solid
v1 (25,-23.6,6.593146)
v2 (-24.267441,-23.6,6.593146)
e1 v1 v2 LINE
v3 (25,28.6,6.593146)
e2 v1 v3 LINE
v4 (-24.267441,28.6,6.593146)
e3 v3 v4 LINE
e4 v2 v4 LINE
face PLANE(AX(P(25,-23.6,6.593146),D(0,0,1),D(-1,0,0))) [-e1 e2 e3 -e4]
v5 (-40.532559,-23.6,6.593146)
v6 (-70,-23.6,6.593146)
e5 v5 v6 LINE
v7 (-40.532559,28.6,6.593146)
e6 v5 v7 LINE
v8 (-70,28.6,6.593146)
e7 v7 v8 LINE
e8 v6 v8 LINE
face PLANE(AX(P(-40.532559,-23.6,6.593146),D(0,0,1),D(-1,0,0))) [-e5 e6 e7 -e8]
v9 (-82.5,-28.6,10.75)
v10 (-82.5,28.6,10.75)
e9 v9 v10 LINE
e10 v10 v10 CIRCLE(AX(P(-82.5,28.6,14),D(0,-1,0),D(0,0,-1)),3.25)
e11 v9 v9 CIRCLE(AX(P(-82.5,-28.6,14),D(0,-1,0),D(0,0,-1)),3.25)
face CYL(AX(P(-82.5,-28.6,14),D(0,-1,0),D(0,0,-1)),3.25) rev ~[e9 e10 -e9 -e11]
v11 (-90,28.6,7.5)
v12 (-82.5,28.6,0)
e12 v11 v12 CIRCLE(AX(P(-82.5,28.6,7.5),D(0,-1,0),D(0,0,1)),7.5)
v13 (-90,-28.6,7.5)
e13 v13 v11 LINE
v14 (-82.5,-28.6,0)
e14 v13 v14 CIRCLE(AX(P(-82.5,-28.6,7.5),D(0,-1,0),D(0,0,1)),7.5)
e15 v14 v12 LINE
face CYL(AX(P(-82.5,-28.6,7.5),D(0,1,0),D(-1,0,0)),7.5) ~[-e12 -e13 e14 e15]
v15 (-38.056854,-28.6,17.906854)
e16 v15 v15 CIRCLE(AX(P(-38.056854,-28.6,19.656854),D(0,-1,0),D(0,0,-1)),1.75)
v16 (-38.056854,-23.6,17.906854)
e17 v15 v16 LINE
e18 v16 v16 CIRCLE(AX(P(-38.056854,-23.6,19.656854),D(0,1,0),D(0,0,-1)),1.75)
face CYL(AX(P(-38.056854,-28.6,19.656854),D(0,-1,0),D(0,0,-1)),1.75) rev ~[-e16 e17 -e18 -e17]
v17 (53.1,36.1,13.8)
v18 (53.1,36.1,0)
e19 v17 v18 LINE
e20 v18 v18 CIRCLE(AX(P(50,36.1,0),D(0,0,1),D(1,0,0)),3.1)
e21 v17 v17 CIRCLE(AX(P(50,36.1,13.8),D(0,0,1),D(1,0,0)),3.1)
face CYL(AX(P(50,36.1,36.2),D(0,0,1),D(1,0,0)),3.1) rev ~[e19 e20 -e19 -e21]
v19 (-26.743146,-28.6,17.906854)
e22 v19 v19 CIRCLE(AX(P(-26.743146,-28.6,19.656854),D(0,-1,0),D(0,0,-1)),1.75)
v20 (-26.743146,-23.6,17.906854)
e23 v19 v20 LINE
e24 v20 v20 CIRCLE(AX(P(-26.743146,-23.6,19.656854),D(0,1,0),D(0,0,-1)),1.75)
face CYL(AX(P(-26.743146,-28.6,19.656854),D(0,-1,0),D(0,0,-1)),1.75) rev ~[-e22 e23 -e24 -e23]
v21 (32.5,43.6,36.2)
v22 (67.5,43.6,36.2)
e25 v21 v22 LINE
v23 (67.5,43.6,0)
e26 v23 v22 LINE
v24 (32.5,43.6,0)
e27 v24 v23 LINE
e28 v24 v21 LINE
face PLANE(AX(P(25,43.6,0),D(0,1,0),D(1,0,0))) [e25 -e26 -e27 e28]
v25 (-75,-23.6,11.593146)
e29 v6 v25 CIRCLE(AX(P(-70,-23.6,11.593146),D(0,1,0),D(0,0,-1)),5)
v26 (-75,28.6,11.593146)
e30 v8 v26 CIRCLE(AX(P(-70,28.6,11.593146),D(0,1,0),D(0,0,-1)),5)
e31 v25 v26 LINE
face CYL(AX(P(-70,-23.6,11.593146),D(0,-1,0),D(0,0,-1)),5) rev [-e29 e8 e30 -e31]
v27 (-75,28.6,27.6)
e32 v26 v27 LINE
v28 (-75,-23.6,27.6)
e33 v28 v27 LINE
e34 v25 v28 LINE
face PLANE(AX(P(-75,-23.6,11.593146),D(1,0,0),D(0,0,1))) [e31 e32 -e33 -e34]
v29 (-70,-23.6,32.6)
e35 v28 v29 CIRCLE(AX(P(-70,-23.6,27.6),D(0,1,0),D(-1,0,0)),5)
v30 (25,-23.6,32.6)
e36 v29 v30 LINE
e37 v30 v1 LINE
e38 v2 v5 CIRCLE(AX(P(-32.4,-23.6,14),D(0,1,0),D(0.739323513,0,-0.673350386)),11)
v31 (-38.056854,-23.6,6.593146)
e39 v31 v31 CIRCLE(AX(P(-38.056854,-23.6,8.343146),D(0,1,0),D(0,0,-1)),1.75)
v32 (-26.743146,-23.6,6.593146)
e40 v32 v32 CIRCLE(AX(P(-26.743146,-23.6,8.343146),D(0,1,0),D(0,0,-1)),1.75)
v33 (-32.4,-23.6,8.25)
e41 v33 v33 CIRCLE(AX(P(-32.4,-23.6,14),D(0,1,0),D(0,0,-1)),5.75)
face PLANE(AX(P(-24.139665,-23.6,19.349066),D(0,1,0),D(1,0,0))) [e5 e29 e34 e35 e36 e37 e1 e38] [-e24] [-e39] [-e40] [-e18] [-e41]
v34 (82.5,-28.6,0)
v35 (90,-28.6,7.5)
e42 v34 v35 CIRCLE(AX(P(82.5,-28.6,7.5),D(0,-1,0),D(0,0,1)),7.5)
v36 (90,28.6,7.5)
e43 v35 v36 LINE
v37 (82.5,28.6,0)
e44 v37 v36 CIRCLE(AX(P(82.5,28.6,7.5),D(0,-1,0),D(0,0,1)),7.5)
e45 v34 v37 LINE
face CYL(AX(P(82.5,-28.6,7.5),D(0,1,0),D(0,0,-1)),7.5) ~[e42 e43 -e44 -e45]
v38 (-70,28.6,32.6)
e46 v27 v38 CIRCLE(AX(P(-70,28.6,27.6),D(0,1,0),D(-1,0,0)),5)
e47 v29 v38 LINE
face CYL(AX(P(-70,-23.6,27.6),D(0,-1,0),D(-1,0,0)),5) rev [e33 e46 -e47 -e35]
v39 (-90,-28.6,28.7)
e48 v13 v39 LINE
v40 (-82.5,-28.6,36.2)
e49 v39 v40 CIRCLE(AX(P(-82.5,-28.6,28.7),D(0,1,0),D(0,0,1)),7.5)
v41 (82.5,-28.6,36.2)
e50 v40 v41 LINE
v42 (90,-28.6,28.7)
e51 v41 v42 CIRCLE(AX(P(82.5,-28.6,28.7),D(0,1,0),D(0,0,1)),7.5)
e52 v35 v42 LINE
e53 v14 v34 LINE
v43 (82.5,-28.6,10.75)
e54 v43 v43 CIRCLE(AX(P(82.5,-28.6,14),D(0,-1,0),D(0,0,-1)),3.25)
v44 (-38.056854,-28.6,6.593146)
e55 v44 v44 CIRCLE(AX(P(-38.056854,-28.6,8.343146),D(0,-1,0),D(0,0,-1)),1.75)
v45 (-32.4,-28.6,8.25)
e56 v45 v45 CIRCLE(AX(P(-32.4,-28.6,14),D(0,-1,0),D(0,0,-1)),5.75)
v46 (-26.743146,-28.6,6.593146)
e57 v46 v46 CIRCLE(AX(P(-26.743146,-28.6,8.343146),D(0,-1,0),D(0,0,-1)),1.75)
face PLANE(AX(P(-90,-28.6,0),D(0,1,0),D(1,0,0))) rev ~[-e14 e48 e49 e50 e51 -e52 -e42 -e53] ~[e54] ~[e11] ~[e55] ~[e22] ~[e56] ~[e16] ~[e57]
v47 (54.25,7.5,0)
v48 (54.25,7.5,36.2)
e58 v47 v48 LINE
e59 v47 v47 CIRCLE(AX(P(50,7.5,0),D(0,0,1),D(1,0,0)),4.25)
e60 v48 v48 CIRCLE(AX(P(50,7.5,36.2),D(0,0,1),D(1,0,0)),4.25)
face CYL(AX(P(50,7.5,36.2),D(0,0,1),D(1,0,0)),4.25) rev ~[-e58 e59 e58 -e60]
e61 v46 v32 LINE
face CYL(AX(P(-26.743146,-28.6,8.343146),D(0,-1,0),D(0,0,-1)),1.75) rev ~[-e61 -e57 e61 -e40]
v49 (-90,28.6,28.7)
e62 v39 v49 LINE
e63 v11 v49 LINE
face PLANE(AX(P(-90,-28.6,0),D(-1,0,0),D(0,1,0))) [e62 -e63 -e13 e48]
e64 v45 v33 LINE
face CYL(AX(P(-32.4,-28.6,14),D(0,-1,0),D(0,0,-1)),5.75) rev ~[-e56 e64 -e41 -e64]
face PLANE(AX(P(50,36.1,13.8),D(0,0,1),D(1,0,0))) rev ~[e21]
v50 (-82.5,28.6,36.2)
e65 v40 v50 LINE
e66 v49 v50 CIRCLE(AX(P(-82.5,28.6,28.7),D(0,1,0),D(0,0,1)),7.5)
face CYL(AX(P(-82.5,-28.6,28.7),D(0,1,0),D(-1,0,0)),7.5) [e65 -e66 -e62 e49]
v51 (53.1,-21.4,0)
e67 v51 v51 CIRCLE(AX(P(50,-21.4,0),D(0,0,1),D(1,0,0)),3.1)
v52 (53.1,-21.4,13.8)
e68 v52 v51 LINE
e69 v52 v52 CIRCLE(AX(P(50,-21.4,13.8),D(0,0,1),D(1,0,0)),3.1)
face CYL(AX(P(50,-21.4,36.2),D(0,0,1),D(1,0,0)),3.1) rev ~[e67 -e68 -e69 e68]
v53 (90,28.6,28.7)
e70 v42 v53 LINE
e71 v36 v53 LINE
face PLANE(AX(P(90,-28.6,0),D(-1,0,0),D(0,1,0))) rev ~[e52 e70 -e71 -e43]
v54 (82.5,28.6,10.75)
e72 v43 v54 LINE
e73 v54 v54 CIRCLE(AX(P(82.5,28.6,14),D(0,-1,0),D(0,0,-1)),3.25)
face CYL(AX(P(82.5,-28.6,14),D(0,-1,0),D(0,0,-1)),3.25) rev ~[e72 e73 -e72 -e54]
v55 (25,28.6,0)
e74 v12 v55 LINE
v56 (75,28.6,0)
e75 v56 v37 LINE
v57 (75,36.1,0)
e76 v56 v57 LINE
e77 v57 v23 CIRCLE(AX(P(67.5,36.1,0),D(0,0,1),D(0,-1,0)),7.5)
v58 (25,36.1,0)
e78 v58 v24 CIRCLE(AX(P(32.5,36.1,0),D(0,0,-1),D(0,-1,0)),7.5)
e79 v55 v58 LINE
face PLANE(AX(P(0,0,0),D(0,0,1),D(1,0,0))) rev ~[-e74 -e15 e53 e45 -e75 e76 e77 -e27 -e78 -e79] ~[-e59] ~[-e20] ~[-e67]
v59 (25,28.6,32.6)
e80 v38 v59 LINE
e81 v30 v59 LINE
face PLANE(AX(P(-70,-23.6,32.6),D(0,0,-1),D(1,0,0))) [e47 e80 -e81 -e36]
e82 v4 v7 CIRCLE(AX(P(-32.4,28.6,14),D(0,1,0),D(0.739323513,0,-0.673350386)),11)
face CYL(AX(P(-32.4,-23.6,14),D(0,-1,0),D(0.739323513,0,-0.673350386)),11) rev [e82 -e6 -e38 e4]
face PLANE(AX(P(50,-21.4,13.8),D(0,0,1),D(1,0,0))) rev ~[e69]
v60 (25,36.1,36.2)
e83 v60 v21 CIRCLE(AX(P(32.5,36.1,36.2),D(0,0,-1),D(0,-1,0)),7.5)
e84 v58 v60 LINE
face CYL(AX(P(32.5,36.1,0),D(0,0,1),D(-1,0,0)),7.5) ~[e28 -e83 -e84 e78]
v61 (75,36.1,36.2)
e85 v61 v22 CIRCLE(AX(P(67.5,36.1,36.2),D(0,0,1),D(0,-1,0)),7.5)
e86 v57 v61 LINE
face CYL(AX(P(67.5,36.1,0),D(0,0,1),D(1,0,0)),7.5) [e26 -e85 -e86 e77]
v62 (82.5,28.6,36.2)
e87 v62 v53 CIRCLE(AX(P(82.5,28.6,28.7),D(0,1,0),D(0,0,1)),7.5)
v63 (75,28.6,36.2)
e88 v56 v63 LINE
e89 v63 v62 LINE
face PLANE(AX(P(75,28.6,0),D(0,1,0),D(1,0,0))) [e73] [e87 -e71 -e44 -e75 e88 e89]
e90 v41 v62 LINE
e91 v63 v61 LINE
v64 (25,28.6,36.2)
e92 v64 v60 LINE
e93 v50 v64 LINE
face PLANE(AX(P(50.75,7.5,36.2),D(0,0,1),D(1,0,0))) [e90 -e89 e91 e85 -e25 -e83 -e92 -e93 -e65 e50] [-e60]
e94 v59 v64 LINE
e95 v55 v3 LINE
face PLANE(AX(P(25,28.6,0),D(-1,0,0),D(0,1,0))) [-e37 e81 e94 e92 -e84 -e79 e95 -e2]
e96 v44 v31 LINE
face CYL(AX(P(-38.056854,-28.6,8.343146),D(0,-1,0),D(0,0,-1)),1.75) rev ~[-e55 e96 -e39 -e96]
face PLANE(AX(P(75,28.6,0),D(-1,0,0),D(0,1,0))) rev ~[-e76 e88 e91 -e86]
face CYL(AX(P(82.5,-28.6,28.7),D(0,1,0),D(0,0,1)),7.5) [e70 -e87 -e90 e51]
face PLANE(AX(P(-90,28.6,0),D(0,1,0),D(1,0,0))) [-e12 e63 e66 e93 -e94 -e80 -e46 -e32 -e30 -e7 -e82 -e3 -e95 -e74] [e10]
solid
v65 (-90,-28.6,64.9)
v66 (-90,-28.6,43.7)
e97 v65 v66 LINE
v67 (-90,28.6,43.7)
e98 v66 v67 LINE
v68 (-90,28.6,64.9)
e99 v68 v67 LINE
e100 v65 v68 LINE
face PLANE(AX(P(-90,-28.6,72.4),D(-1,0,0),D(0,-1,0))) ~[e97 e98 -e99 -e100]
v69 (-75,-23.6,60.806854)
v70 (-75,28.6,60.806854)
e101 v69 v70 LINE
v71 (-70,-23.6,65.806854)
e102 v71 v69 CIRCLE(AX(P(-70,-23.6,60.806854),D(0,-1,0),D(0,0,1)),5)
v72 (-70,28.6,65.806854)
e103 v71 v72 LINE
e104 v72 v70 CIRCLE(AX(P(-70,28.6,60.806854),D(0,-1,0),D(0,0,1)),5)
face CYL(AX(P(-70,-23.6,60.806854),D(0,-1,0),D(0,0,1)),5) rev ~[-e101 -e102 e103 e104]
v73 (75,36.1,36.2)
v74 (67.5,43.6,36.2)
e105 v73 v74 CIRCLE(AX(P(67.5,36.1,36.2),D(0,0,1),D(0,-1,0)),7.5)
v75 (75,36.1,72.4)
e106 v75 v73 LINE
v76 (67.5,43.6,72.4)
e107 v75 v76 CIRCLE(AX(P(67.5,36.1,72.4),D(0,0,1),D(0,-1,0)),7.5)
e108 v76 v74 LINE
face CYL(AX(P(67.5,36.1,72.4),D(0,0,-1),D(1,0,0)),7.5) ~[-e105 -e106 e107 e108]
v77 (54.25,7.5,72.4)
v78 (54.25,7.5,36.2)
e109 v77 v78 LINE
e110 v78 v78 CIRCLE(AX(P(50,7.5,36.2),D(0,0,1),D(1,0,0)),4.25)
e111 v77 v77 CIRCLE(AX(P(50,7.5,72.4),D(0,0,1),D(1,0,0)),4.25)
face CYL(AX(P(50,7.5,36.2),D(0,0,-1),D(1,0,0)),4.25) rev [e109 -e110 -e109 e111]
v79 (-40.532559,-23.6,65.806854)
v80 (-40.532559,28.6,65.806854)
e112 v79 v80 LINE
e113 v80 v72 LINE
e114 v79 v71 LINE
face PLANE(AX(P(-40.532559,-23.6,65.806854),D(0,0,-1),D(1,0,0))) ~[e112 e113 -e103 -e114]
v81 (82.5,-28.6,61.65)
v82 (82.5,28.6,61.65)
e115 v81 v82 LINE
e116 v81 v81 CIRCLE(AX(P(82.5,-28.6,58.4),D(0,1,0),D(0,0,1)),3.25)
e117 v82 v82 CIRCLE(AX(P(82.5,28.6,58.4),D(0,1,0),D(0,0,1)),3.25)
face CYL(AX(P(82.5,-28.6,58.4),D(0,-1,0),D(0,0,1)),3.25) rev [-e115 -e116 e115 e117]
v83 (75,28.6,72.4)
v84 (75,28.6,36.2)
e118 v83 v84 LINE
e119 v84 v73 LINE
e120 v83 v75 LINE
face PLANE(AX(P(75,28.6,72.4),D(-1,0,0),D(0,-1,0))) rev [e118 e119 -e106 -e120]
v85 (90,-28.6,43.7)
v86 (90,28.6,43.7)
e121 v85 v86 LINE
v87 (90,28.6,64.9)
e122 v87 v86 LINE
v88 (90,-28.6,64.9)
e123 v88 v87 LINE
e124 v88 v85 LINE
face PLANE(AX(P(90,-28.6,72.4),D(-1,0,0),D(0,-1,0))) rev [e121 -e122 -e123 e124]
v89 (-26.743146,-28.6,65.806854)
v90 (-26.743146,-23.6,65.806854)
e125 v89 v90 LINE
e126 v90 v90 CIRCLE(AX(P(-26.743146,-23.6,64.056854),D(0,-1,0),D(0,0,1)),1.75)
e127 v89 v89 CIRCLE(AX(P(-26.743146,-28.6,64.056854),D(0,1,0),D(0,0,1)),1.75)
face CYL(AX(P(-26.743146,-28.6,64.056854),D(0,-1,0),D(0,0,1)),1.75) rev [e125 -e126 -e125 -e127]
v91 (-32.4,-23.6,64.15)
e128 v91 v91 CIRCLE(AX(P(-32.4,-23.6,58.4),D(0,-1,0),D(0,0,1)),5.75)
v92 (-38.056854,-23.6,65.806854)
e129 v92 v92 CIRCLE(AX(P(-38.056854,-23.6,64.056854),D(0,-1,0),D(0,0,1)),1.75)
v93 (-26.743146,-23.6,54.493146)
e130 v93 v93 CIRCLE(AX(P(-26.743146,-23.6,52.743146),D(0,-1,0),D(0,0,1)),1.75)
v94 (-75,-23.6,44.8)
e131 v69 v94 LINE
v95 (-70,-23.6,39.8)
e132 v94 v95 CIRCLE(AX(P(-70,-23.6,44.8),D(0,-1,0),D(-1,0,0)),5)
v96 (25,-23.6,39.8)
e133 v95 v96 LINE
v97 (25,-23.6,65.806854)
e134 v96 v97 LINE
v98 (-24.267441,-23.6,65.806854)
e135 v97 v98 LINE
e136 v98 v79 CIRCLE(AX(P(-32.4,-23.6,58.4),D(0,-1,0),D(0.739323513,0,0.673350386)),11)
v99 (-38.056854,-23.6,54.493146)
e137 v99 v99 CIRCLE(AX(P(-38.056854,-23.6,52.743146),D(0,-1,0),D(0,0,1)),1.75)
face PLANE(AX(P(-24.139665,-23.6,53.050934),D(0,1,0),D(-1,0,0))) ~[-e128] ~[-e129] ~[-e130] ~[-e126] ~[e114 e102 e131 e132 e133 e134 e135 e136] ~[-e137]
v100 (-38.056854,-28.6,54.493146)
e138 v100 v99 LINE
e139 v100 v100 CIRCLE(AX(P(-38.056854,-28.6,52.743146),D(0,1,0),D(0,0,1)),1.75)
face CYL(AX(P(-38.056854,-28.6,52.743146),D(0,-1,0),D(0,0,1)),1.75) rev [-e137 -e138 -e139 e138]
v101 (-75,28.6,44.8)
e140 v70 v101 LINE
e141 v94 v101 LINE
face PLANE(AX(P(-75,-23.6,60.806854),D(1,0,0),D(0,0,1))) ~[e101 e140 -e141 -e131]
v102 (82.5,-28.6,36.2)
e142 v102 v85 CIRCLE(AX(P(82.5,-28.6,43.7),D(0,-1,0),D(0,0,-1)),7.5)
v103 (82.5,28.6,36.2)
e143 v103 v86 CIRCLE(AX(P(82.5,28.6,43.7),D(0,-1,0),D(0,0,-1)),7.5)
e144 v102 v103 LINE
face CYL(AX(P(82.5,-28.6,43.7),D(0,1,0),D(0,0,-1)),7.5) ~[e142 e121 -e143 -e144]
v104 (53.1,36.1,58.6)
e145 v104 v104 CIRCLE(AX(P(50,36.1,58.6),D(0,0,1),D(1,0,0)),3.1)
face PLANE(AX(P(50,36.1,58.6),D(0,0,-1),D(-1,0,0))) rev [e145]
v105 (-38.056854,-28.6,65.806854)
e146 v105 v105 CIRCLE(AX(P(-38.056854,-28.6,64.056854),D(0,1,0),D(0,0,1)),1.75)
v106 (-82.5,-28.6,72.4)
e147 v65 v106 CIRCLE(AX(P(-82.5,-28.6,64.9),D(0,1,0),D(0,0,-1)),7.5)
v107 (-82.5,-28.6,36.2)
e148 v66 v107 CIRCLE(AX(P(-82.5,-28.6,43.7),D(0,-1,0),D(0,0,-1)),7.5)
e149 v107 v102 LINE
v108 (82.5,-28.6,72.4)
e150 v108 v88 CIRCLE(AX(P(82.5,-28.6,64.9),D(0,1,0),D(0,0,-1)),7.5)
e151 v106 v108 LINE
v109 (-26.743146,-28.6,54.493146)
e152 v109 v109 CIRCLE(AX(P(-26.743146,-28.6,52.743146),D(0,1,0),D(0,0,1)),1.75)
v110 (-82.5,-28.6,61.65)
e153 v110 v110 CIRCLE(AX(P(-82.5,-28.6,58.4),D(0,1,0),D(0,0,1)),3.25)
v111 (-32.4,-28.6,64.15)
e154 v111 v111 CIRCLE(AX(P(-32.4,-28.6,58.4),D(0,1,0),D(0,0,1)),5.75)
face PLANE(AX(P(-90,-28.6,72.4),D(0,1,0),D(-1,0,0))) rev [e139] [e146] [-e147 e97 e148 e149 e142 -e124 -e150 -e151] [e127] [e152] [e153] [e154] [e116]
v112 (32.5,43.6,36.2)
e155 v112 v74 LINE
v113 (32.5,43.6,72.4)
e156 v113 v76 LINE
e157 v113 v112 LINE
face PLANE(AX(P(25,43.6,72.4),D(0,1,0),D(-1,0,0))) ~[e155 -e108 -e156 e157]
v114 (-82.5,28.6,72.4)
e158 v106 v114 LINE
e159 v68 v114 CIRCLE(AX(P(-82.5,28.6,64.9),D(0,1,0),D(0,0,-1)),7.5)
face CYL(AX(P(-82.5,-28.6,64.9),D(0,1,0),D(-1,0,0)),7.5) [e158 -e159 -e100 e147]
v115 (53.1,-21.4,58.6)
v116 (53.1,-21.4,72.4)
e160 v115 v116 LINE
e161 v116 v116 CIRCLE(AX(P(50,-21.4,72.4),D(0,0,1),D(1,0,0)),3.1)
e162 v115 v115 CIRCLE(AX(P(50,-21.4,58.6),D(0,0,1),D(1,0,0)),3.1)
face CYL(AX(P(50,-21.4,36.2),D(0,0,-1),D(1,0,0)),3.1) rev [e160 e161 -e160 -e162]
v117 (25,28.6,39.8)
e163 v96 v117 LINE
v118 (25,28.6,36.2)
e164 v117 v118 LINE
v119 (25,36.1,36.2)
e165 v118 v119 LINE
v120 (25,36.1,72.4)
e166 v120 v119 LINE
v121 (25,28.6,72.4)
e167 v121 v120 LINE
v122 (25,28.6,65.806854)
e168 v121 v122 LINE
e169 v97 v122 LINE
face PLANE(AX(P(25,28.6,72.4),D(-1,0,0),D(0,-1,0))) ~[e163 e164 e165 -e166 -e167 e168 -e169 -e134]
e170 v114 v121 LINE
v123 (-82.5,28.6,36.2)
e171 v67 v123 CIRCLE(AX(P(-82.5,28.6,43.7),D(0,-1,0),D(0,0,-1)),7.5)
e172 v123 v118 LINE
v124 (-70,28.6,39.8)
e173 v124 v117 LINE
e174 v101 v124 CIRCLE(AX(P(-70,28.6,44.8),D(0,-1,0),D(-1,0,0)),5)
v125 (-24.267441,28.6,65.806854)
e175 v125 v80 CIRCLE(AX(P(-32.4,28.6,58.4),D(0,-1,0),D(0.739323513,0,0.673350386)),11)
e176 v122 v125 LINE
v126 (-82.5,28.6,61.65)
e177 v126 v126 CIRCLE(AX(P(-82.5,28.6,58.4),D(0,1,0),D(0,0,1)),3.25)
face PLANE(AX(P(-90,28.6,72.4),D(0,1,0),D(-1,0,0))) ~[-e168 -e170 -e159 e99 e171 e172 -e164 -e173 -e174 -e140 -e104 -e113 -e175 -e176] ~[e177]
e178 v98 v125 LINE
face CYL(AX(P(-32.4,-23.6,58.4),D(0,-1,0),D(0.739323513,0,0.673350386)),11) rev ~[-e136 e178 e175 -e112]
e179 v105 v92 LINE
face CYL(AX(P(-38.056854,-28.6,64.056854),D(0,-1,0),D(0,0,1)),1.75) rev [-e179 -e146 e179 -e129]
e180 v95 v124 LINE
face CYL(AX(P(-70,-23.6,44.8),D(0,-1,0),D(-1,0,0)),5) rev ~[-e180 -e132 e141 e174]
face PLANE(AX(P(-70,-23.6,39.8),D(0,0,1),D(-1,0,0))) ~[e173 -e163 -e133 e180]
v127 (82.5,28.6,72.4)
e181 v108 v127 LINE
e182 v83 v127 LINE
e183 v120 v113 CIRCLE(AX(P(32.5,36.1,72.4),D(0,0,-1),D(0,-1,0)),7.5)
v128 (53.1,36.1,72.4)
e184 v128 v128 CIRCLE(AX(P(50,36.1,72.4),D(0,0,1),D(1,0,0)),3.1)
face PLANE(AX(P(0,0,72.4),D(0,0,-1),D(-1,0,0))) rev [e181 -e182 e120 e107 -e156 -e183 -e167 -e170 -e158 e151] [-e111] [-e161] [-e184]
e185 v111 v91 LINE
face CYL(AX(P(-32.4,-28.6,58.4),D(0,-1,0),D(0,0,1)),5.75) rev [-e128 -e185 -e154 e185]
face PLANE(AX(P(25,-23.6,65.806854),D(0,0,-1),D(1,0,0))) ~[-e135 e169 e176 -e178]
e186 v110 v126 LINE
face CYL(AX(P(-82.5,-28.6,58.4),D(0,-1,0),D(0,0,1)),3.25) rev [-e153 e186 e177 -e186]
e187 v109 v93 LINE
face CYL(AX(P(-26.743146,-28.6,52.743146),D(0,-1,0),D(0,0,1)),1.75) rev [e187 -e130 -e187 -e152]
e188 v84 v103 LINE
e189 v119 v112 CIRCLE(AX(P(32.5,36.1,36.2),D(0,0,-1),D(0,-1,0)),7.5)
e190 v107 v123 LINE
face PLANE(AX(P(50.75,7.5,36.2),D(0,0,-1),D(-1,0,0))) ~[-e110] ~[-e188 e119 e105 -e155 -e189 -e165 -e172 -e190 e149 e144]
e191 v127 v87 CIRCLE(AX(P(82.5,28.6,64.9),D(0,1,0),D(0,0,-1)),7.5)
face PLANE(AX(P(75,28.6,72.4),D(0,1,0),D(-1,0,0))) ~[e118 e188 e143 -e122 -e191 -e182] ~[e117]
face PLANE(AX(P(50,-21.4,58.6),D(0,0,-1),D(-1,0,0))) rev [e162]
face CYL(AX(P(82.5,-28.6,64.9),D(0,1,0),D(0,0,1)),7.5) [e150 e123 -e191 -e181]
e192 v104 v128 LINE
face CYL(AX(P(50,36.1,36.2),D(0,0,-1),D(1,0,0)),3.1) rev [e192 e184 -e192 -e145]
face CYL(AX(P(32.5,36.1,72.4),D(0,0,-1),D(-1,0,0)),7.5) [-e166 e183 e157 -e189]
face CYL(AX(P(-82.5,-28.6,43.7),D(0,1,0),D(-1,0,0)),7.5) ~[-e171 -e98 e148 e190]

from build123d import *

# Parameters (mm, degrees)
SKETCH1_W           = 180
SKETCH1_H           = 57.2
SKETCH1_W_2         = 50
SKETCH1_H_2         = 15
BOSS_EXTRUDE1_DEPTH = 36.2
SKETCH2_R           = 3.25
SKETCH2_R_2         = 5.75
SKETCH2_R_3         = 1.75
CUT_EXTRUDE1_DEPTH  = 57.2
FILLET1_R           = 7.5
CUT_EXTRUDE3_START  = -52.2
SKETCH3_R           = 1.75
SKETCH3_R_2         = 5.75
CUT_EXTRUDE3_DEPTH  = 52.2
SKETCH4_W           = 43.7
SKETCH4_H           = 42.2
SKETCH4_R           = 4.25
CUT_EXTRUDE4_DEPTH  = 33.2
SKETCH4_3_R         = 4.25
CUT_EXTRUDE5_DEPTH  = 36.2
SKETCH7_R           = 3.1
CUT_EXTRUDE7_DEPTH  = 36.2
FILLET2_R           = 7.5
BOSS_EXTRUDE3_DEPTH = 22.4
BOSS_EXTRUDE4_START = 33.2
SKETCH8_W           = 43.7
SKETCH8_H           = 42.2
SKETCH8_R           = 4.25
BOSS_EXTRUDE4_DEPTH = 33.2


with BuildPart() as part:
    # Sketch1 → Boss-Extrude1 (new body)
    with BuildSketch(Plane.XY):
        Rectangle(SKETCH1_W, SKETCH1_H)
        with Locations((50, 36.1)):
            Rectangle(SKETCH1_W_2, SKETCH1_H_2)
    extrude(amount=BOSS_EXTRUDE1_DEPTH)

    # Sketch2 → Cut-Extrude1 (cut)
    with BuildSketch(Plane.XZ.offset(28.6)):
        with Locations(Location((-82.5, 14, 0), (0, 0, 270))):
            Circle(SKETCH2_R)
        with Locations(Location((-32.4, 14, 0), (0, 0, 270))):
            Circle(SKETCH2_R_2)
        with Locations(Location((-38.056854249, 19.656854249, 0), (0, 0, 270))):
            Circle(SKETCH2_R_3)
        with Locations(Location((-26.743145751, 19.656854249, 0), (0, 0, 270))):
            Circle(SKETCH2_R_3)
        with Locations(Location((-38.056854249, 8.343145751, 0), (0, 0, 270))):
            Circle(SKETCH2_R_3)
        with Locations(Location((-26.743145751, 8.343145751, 0), (0, 0, 270))):
            Circle(SKETCH2_R_3)
        with Locations(Location((82.5, 14, 0), (0, 0, 270))):
            Circle(SKETCH2_R)
    extrude(amount=-CUT_EXTRUDE1_DEPTH, mode=Mode.SUBTRACT)

    # Fillet1
    fillet1_edges = [part.edges().sort_by_distance(p)[0] for p in [
        (-90, 0, 0),
        (90, 0, 0),
        (-90, 0, 36.2),
        (90, 0, 36.2),
    ]]
    fillet(fillet1_edges, radius=FILLET1_R)

    # Sketch3 → Cut-Extrude3 (cut)
    with BuildSketch(Plane(origin=(0, 28.6, 0), x_dir=(1, 0, 0), z_dir=(0, 1, 0)).offset(CUT_EXTRUDE3_START)):
        with BuildLine():
            Line((-40.532558646, -6.593145751), (-70, -6.593145751))
            ThreePointArc((-70, -6.593145751), (-73.535533906, -8.057611845), (-75, -11.593145751))
            Line((-75, -11.593145751), (-75, -27.6))
            ThreePointArc((-75, -27.6), (-73.535533906, -31.135533906), (-70, -32.6))
            Line((-70, -32.6), (25, -32.6))
            Line((25, -32.6), (25, -6.593145751))
            Line((25, -6.593145751), (-24.267441354, -6.593145751))
            ThreePointArc((-24.267441354, -6.593145751), (-32.4, -3), (-40.532558646, -6.593145751))
        make_face()
        with Locations(Location((-26.743145751, -8.343145751, 0), (0, 0, 90))):
            Circle(SKETCH3_R, mode=Mode.SUBTRACT)
        with Locations(Location((-38.056854249, -19.656854249, 0), (0, 0, 90))):
            Circle(SKETCH3_R, mode=Mode.SUBTRACT)
        with Locations(Location((-26.743145751, -19.656854249, 0), (0, 0, 90))):
            Circle(SKETCH3_R, mode=Mode.SUBTRACT)
        with Locations(Location((-38.056854249, -8.343145751, 0), (0, 0, 90))):
            Circle(SKETCH3_R, mode=Mode.SUBTRACT)
        with Locations(Location((-32.4, -14, 0), (0, 0, 90))):
            Circle(SKETCH3_R_2, mode=Mode.SUBTRACT)
    extrude(amount=CUT_EXTRUDE3_DEPTH, mode=Mode.SUBTRACT)

    # Sketch4 → Cut-Extrude4 (cut)
    with BuildSketch(Plane.XY.offset(36.2)):
        with Locations((50.75, 7.5)):
            Rectangle(SKETCH4_W, SKETCH4_H)
        with Locations((50, 7.5)):
            Circle(SKETCH4_R, mode=Mode.SUBTRACT)
    extrude(amount=-CUT_EXTRUDE4_DEPTH, mode=Mode.SUBTRACT)

    # Sketch4<3> → Cut-Extrude5 (cut)
    with BuildSketch(Plane.XY.offset(36.2)):
        with Locations((50, 7.5)):
            Circle(SKETCH4_3_R)
    extrude(amount=-CUT_EXTRUDE5_DEPTH, mode=Mode.SUBTRACT)

    # Sketch7 → Cut-Extrude7 (cut)
    with BuildSketch(Plane.XY.offset(36.2)):
        with Locations((50, -21.4)):
            Circle(SKETCH7_R)
        with Locations((50, 36.1)):
            Circle(SKETCH7_R)
    extrude(amount=-CUT_EXTRUDE7_DEPTH, mode=Mode.SUBTRACT)

    # Fillet2
    fillet2_edges = [part.edges().sort_by_distance(p)[0] for p in [
        (25, 43.6, 18.1),
        (75, 43.6, 18.1),
    ]]
    fillet(fillet2_edges, radius=FILLET2_R)

    # Sketch7 → Boss-Extrude3 (add)
    with BuildSketch(Plane.XY.offset(36.2)):
        with Locations((50, -21.4)):
            Circle(SKETCH7_R)
        with Locations((50, 36.1)):
            Circle(SKETCH7_R)
    extrude(amount=-BOSS_EXTRUDE3_DEPTH)

    # Sketch8 → Boss-Extrude4 (add)
    with BuildSketch(Plane.XY.offset(3).offset(BOSS_EXTRUDE4_START)):
        with Locations((50.75, 7.5)):
            Rectangle(SKETCH8_W, SKETCH8_H)
        with Locations((50, 7.5)):
            Circle(SKETCH8_R, mode=Mode.SUBTRACT)
    extrude(amount=-BOSS_EXTRUDE4_DEPTH)


with BuildPart() as body_2:
    # Mirror1: mirrored copy
    add(part.part.mirror(Plane.XY.offset(36.2)))


solid = Compound([part.part, body_2.part])
